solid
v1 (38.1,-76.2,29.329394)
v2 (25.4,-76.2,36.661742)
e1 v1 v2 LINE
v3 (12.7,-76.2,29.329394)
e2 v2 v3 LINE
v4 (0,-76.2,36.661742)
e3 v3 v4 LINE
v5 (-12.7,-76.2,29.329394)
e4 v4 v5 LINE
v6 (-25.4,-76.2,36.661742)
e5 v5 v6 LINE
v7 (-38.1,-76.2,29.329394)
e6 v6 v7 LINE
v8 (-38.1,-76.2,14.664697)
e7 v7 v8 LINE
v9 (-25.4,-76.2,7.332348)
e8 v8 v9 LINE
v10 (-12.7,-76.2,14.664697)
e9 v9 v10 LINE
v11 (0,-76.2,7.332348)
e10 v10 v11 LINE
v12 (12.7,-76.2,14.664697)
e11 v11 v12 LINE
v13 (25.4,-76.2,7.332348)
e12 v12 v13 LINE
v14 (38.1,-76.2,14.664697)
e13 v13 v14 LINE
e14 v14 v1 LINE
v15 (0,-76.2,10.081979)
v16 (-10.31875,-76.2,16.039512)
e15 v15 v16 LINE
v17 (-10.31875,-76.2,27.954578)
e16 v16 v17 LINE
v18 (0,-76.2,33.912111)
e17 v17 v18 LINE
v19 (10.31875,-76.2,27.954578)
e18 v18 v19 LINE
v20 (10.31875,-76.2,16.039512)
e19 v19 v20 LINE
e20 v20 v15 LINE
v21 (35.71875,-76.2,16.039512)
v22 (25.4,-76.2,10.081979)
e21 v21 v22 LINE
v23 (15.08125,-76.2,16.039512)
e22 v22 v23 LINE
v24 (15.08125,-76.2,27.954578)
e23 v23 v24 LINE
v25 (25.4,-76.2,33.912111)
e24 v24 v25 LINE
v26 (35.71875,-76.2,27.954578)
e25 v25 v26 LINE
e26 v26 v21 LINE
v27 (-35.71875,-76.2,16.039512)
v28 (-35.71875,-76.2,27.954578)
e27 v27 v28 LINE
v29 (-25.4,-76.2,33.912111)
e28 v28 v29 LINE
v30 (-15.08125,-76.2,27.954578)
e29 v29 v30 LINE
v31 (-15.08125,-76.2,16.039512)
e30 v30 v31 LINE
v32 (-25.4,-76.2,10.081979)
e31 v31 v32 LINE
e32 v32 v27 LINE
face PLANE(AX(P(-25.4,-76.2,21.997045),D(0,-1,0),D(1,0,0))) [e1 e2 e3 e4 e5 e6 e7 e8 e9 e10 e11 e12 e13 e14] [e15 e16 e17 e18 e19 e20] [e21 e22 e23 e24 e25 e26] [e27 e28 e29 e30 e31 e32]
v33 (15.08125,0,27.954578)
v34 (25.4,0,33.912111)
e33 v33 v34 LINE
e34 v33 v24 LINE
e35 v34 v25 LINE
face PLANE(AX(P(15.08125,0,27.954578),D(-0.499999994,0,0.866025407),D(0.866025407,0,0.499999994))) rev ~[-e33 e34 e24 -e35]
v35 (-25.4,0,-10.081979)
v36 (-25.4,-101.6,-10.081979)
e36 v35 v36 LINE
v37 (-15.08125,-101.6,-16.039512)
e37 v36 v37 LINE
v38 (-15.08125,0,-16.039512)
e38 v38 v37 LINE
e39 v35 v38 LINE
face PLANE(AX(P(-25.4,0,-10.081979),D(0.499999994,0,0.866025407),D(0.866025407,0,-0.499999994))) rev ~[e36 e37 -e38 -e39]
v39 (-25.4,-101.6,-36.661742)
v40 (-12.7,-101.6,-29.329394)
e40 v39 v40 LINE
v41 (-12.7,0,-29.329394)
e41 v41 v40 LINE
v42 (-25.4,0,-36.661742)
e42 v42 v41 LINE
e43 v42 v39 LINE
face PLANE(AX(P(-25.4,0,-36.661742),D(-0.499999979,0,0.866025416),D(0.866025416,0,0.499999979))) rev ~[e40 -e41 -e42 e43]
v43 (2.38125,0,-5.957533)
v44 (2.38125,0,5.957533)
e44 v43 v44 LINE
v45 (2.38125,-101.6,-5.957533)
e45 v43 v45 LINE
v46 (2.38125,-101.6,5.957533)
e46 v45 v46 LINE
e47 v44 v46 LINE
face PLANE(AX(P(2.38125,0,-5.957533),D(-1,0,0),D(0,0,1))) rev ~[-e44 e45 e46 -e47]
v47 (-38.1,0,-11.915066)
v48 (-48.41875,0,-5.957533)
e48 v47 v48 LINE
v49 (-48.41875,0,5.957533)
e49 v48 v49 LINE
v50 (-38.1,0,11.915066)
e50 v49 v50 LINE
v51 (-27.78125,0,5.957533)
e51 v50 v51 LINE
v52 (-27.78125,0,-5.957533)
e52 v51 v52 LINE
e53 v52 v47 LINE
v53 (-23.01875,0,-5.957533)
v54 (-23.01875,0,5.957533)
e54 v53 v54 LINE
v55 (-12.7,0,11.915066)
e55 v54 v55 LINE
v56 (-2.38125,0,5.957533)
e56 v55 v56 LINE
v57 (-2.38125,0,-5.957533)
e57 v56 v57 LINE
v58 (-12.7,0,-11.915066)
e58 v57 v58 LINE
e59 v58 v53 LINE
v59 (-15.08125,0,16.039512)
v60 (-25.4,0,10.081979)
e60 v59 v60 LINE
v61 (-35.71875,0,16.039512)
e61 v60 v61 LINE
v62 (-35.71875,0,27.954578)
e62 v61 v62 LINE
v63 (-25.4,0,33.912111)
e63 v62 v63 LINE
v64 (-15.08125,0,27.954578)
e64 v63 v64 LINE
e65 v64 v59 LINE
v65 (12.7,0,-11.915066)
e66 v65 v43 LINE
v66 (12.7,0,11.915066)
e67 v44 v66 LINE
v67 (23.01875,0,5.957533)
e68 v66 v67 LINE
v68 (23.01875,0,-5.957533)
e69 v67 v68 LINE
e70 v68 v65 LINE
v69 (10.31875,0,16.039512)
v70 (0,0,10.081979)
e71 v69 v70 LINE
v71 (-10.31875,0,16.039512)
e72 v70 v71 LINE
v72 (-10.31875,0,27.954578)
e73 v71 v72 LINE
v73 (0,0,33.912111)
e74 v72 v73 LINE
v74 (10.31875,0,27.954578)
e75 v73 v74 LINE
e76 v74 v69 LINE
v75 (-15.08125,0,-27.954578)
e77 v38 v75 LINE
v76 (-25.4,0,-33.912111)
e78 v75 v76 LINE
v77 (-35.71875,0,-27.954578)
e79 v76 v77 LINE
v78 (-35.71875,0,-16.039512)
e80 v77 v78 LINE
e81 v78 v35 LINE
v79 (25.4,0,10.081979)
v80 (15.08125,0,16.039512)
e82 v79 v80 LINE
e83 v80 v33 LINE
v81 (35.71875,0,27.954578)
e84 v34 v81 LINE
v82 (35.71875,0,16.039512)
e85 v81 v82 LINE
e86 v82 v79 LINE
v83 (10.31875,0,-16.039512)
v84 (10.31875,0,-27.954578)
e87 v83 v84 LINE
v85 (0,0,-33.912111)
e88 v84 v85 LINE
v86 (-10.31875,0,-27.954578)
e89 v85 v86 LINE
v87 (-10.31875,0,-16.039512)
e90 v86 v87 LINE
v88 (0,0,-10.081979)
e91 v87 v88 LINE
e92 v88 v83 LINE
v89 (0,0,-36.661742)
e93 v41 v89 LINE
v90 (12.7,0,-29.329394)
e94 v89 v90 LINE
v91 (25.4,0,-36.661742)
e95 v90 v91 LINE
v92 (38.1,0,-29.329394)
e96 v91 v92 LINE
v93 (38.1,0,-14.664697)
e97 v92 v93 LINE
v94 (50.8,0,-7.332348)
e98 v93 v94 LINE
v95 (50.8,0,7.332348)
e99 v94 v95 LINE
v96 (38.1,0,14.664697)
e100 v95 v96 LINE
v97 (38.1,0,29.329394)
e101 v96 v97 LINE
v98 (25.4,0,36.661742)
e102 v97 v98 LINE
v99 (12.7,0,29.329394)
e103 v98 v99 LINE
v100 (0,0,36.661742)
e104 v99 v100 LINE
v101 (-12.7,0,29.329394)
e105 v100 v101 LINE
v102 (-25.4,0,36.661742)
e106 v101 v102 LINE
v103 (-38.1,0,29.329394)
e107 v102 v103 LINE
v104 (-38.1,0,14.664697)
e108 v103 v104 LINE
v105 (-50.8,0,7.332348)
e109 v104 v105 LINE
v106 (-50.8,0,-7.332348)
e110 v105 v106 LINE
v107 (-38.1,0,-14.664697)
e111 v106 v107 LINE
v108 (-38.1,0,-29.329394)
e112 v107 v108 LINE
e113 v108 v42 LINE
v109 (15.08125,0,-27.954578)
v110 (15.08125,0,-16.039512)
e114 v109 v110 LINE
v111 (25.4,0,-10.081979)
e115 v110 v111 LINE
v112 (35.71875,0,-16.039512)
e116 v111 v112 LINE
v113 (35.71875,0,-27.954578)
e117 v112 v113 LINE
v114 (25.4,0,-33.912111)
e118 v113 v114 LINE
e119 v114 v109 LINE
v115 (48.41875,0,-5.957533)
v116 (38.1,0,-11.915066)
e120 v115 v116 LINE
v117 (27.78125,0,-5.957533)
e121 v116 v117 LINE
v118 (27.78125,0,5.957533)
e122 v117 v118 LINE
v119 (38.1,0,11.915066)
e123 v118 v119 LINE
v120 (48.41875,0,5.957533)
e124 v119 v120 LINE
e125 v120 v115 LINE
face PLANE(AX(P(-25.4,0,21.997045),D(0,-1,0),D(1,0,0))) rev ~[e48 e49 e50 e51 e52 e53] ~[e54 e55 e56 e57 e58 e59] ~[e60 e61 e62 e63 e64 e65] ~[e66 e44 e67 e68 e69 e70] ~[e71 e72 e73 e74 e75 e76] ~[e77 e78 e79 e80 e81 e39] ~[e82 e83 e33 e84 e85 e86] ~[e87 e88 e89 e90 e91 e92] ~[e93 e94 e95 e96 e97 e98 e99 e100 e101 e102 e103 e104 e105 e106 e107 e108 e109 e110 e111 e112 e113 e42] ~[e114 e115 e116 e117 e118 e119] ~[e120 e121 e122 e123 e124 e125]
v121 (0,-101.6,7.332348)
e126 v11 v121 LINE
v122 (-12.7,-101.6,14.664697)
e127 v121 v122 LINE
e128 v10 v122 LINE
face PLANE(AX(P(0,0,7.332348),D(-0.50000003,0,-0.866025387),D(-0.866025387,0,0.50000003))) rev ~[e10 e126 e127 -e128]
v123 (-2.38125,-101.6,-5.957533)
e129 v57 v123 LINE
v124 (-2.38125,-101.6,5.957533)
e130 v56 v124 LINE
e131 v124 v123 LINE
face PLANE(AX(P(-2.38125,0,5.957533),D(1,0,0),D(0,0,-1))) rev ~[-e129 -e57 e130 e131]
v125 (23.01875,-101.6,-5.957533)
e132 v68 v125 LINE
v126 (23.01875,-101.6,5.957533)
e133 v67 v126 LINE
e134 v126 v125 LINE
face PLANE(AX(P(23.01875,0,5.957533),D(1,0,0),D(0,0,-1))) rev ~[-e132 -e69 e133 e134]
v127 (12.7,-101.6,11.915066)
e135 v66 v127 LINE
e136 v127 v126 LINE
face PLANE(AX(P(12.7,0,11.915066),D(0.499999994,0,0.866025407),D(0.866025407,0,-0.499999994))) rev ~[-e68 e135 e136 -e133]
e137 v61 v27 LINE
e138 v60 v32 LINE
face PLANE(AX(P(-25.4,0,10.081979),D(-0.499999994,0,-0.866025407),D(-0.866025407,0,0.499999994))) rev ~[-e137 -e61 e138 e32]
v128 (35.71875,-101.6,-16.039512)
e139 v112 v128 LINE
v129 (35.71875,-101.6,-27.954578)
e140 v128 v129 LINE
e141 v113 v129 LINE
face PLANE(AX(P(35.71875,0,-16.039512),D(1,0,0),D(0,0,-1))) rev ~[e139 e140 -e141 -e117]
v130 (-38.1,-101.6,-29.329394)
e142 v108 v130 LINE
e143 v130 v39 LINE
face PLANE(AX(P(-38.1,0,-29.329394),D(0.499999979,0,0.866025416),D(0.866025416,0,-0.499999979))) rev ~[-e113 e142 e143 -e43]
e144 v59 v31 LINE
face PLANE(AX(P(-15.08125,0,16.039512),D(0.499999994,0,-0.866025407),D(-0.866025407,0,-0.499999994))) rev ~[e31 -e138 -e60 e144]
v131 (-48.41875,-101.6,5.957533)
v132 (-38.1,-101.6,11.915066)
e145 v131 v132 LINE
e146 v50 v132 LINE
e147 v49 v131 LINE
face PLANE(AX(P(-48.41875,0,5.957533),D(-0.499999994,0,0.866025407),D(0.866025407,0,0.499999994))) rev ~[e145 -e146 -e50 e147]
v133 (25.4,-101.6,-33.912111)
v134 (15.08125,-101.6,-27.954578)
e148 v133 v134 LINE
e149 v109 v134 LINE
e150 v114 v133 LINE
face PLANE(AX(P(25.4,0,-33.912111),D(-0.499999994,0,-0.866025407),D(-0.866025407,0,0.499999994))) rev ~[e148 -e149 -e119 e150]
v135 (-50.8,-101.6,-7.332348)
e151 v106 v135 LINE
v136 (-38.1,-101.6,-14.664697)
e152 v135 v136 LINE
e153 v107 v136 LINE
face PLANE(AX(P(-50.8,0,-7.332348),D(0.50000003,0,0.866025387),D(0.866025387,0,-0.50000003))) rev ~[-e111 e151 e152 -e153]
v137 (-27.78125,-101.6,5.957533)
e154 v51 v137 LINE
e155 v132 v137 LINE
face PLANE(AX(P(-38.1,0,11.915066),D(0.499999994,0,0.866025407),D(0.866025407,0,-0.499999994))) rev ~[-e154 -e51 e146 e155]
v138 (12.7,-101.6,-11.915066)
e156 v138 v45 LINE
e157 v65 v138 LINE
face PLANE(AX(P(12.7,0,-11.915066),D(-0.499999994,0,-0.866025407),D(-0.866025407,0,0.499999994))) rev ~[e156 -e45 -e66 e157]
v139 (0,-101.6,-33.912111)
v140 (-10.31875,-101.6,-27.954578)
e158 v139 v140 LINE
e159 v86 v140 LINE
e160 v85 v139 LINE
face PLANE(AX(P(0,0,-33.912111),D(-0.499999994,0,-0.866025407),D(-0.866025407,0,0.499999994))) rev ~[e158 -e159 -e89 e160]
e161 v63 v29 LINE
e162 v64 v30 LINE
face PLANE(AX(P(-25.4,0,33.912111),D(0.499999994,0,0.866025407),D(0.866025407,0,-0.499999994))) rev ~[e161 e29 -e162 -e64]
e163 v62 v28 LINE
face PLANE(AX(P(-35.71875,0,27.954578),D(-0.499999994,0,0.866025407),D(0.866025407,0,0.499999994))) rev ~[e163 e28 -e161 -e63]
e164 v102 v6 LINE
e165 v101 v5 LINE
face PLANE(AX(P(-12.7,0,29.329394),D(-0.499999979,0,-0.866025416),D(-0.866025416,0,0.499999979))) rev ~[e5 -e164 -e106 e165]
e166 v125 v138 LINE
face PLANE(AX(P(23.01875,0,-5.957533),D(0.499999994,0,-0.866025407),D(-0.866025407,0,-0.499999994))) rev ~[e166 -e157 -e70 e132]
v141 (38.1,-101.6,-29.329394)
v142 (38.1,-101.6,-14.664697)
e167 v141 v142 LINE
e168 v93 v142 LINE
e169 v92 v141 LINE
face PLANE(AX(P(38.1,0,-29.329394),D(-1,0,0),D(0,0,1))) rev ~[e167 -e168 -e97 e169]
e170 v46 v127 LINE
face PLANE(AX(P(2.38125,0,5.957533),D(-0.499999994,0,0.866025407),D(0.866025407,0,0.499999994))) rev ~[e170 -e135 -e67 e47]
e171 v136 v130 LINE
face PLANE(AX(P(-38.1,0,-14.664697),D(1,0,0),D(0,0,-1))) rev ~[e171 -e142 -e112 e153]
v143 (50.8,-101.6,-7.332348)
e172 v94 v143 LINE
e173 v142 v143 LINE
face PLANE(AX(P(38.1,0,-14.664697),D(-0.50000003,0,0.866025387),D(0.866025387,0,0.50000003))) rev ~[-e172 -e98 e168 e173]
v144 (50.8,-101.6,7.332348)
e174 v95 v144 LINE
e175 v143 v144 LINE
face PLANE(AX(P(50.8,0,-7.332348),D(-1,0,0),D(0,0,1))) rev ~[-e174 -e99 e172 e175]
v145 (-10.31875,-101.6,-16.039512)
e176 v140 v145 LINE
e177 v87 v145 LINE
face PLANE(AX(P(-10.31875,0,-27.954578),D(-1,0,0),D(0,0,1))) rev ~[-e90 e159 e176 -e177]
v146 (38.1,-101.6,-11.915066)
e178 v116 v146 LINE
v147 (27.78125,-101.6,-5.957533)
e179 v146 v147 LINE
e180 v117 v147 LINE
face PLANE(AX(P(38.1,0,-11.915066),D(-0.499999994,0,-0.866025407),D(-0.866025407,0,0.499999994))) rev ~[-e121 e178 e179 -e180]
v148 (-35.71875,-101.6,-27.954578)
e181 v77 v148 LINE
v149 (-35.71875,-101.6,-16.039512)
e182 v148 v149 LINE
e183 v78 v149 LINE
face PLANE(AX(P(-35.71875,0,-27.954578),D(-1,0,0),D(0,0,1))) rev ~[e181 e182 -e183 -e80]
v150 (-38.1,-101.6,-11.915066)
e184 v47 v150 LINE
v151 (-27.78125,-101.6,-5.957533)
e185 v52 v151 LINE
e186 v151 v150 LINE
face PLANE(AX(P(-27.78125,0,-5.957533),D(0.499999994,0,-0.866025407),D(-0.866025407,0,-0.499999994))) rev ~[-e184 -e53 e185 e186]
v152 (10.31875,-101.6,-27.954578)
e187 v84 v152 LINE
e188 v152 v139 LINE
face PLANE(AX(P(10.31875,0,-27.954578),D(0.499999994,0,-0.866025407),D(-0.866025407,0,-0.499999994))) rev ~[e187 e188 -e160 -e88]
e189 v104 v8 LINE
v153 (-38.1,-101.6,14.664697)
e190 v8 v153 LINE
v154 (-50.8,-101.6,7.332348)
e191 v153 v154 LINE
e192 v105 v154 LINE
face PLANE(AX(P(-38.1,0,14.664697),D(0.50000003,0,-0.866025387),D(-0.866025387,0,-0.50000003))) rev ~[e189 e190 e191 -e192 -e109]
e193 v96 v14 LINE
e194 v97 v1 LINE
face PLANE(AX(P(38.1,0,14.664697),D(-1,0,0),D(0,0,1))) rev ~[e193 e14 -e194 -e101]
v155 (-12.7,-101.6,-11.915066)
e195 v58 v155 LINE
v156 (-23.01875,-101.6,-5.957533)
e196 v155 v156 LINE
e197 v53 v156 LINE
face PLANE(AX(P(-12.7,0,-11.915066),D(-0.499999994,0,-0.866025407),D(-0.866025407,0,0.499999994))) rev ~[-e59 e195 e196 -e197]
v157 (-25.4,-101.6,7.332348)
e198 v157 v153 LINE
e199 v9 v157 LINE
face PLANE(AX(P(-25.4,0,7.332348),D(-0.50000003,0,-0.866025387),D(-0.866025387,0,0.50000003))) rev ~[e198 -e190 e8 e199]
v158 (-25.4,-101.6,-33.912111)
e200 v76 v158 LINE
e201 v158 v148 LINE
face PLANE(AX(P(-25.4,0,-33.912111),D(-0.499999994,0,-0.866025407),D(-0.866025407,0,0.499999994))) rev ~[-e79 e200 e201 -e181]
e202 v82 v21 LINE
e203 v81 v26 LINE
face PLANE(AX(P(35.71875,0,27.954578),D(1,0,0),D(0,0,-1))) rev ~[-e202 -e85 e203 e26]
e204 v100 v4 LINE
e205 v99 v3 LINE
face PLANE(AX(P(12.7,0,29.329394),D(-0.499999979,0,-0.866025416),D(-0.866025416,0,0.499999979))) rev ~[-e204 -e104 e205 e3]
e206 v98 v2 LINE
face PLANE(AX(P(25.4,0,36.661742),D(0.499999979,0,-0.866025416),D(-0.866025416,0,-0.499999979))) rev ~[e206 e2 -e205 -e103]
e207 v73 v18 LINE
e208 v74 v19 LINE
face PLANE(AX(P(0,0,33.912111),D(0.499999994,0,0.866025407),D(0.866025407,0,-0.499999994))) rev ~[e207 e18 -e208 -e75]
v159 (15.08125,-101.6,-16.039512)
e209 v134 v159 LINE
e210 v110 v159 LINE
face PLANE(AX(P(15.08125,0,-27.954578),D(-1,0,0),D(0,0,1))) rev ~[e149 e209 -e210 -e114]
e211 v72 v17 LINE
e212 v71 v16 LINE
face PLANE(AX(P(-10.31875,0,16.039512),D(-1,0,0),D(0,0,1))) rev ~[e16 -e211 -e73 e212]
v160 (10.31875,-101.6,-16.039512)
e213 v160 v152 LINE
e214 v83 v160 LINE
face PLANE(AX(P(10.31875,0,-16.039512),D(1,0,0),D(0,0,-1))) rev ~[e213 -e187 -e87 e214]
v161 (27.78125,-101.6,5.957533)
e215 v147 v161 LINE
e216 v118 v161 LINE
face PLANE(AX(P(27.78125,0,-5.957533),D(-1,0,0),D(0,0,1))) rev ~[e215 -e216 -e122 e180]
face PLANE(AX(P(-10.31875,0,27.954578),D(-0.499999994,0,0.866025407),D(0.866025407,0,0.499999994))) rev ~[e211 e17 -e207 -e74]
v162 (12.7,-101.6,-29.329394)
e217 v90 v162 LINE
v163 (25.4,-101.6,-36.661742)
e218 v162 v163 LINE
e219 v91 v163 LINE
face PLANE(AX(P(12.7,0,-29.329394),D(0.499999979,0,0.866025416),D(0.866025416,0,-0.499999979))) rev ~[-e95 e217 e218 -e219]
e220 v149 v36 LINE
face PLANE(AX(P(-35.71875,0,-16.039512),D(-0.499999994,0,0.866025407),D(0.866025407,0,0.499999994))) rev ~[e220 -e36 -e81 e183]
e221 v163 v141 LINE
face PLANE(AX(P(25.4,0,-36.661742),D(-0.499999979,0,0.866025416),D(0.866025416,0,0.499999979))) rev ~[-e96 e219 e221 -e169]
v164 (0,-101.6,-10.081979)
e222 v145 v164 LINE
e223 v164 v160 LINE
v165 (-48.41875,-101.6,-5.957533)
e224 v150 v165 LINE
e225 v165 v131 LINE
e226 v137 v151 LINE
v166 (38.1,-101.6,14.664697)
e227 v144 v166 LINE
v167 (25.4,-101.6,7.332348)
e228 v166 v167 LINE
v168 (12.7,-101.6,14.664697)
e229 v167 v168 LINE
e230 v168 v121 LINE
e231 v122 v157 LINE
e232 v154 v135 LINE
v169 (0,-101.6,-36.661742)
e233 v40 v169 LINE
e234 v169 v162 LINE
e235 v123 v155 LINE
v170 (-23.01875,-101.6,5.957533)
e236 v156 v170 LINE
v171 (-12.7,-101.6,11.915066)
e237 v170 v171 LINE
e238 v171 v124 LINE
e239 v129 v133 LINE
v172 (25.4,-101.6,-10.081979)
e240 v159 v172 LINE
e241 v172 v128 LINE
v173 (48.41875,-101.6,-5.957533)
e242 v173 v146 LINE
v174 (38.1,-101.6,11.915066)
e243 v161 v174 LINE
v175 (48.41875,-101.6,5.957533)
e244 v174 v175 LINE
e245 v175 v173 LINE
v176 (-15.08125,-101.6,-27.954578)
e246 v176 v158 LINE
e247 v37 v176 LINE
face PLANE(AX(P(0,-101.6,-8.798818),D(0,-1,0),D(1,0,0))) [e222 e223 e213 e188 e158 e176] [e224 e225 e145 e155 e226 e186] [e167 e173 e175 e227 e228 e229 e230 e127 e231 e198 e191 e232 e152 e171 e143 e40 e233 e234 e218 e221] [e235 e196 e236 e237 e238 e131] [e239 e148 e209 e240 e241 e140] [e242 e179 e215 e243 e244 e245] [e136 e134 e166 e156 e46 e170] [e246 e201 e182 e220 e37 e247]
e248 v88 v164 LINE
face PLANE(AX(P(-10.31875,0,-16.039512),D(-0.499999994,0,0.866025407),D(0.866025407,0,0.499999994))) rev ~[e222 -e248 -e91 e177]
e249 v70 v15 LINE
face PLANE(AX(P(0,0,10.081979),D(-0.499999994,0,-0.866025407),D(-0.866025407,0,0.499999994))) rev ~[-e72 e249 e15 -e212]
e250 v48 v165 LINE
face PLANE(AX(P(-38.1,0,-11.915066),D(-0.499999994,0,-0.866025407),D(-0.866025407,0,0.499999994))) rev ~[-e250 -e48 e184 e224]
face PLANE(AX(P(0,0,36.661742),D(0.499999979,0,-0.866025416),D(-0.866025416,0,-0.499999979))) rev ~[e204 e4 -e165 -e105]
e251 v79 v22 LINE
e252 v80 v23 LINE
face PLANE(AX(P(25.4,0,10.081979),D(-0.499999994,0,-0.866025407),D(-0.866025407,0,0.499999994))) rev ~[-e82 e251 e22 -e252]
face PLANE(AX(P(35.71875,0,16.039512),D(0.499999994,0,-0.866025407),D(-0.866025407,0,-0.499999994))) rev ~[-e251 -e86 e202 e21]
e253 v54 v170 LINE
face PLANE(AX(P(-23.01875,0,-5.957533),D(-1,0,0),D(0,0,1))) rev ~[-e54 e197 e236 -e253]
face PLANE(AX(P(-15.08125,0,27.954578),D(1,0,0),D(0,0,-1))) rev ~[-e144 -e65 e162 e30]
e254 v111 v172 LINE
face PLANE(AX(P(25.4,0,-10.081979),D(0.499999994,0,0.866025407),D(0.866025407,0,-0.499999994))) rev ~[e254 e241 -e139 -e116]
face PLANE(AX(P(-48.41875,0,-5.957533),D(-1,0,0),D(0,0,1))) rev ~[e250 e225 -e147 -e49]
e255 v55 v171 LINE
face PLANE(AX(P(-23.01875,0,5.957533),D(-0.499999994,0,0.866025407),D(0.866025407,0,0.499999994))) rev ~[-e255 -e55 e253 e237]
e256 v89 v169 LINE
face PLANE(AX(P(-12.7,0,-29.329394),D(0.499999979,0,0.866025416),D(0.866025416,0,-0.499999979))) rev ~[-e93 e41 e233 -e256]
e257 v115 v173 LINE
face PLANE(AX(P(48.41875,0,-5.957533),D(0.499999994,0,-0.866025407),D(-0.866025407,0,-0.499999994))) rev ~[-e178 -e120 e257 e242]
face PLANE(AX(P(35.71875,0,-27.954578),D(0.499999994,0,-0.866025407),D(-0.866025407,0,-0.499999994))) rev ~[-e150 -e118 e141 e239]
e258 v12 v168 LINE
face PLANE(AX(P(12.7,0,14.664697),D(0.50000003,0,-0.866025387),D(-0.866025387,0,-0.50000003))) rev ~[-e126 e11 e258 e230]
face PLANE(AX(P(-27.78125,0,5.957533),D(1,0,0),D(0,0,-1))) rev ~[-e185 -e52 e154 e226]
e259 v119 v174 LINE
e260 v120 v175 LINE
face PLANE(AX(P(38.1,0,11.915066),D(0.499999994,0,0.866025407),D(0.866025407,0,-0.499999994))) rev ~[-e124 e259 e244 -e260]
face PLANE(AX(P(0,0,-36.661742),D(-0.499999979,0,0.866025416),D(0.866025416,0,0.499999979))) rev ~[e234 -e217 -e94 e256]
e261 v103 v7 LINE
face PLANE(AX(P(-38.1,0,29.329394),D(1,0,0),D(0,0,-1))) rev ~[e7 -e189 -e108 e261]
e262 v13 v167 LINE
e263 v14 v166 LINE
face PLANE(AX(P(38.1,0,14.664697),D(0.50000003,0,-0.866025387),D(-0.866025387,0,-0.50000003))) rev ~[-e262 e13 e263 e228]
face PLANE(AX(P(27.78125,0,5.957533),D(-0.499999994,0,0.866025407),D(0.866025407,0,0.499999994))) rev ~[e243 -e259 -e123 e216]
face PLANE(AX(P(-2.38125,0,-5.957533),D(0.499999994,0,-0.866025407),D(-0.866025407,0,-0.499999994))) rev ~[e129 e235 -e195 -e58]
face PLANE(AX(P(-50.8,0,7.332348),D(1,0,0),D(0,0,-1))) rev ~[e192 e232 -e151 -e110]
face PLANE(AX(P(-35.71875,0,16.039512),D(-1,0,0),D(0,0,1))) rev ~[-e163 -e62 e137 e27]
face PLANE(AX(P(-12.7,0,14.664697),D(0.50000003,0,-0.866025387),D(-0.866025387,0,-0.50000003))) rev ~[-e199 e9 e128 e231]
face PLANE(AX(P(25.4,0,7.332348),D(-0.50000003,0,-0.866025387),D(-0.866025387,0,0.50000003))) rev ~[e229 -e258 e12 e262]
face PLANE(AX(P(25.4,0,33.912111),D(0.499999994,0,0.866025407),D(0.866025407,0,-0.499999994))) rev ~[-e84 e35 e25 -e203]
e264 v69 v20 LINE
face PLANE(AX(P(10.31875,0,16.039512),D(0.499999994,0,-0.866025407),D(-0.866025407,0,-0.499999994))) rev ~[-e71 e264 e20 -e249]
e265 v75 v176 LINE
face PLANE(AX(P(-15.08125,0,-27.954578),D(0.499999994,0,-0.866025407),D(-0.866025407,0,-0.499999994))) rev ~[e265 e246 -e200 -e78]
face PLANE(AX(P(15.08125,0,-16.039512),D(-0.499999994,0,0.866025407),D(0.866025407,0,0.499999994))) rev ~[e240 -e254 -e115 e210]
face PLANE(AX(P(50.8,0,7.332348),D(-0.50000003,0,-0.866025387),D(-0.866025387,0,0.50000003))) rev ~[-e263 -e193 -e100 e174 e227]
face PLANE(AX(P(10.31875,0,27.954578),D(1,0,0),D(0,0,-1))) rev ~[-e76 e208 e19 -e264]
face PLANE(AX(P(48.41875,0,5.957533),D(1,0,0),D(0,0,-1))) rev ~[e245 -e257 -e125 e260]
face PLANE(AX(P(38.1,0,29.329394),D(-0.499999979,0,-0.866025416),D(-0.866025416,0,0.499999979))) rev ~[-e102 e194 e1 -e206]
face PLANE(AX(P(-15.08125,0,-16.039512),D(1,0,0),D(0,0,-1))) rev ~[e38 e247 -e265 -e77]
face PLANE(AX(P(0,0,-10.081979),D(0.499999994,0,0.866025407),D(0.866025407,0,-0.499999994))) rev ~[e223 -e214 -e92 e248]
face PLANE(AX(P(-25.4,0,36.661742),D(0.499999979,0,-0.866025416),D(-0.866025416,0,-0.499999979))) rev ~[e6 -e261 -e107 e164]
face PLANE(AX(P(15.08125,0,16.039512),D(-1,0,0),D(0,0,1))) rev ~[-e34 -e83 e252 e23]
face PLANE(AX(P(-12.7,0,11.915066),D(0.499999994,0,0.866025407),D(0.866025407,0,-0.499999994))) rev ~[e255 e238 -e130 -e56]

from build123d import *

# Parameters (mm, degrees)
F1_DEPTH = 101.6
F2_DEPTH = 76.2


with BuildPart() as f1:
    # F0 (on Front) → F1 (new body)
    with BuildSketch(Plane.XZ):
        Polygon((-38.1, 14.664697), (-50.8, 7.332348), (-50.8, 0), (-50.8, -7.332348), (-38.1, -14.664697), (-38.1, -29.329394), (-25.4, -36.661742), (-12.7, -29.329394), (0, -36.661742), (12.7, -29.329394), (25.4, -36.661742), (38.1, -29.329394), (38.1, -14.664697), (50.8, -7.332348), (50.8, 0), (50.8, 7.332348), (38.1, 14.664697), (25.4, 7.332348), (12.7, 14.664697), (0, 7.332348), (-12.7, 14.664697), (-25.4, 7.332348), align=None)
        Polygon((-15.08125, -27.954578), (-25.4, -33.912111), (-35.71875, -27.954578), (-35.71875, -16.039512), (-25.4, -10.081979), (-15.08125, -16.039512), align=None, mode=Mode.SUBTRACT)
        Polygon((-10.31875, -16.039512), (0, -10.081979), (10.31875, -16.039512), (10.31875, -27.954578), (0, -33.912111), (-10.31875, -27.954578), align=None, mode=Mode.SUBTRACT)
        Polygon((-48.41875, 0), (-48.41875, 5.957533), (-38.1, 11.915066), (-27.78125, 5.957533), (-27.78125, 0), (-27.78125, -5.957533), (-38.1, -11.915066), (-48.41875, -5.957533), align=None, mode=Mode.SUBTRACT)
        Polygon((25.4, -10.081979), (35.71875, -16.039512), (35.71875, -27.954578), (25.4, -33.912111), (15.08125, -27.954578), (15.08125, -16.039512), align=None, mode=Mode.SUBTRACT)
        Polygon((48.41875, 0), (48.41875, -5.957533), (38.1, -11.915066), (27.78125, -5.957533), (27.78125, 0), (27.78125, 5.957533), (38.1, 11.915066), (48.41875, 5.957533), align=None, mode=Mode.SUBTRACT)
        Polygon((-12.7, 11.915066), (-2.38125, 5.957533), (-2.38125, 0), (-2.38125, -5.957533), (-12.7, -11.915066), (-23.01875, -5.957533), (-23.01875, 0), (-23.01875, 5.957533), align=None, mode=Mode.SUBTRACT)
        Polygon((23.01875, 5.957533), (23.01875, 0), (23.01875, -5.957533), (12.7, -11.915066), (2.38125, -5.957533), (2.38125, 0), (2.38125, 5.957533), (12.7, 11.915066), align=None, mode=Mode.SUBTRACT)
    extrude(amount=F1_DEPTH)

    # F0 (on Front) → F2 (join)
    with BuildSketch(Plane.XZ):
        Polygon((-38.1, 29.329394), (-38.1, 14.664697), (-25.4, 7.332348), (-12.7, 14.664697), (-12.7, 29.329394), (-25.4, 36.661742), align=None)
        Polygon((-15.08125, 27.954578), (-15.08125, 16.039512), (-25.4, 10.081979), (-35.71875, 16.039512), (-35.71875, 27.954578), (-25.4, 33.912111), align=None, mode=Mode.SUBTRACT)
        Polygon((-12.7, 29.329394), (-12.7, 14.664697), (0, 7.332348), (12.7, 14.664697), (12.7, 29.329394), (0, 36.661742), align=None)
        Polygon((-10.31875, 16.039512), (-10.31875, 27.954578), (0, 33.912111), (10.31875, 27.954578), (10.31875, 16.039512), (0, 10.081979), align=None, mode=Mode.SUBTRACT)
        Polygon((12.7, 29.329394), (12.7, 14.664697), (25.4, 7.332348), (38.1, 14.664697), (38.1, 29.329394), (25.4, 36.661742), align=None)
        Polygon((15.08125, 16.039512), (15.08125, 27.954578), (25.4, 33.912111), (35.71875, 27.954578), (35.71875, 16.039512), (25.4, 10.081979), align=None, mode=Mode.SUBTRACT)
    extrude(amount=F2_DEPTH)


solid = f1.part
